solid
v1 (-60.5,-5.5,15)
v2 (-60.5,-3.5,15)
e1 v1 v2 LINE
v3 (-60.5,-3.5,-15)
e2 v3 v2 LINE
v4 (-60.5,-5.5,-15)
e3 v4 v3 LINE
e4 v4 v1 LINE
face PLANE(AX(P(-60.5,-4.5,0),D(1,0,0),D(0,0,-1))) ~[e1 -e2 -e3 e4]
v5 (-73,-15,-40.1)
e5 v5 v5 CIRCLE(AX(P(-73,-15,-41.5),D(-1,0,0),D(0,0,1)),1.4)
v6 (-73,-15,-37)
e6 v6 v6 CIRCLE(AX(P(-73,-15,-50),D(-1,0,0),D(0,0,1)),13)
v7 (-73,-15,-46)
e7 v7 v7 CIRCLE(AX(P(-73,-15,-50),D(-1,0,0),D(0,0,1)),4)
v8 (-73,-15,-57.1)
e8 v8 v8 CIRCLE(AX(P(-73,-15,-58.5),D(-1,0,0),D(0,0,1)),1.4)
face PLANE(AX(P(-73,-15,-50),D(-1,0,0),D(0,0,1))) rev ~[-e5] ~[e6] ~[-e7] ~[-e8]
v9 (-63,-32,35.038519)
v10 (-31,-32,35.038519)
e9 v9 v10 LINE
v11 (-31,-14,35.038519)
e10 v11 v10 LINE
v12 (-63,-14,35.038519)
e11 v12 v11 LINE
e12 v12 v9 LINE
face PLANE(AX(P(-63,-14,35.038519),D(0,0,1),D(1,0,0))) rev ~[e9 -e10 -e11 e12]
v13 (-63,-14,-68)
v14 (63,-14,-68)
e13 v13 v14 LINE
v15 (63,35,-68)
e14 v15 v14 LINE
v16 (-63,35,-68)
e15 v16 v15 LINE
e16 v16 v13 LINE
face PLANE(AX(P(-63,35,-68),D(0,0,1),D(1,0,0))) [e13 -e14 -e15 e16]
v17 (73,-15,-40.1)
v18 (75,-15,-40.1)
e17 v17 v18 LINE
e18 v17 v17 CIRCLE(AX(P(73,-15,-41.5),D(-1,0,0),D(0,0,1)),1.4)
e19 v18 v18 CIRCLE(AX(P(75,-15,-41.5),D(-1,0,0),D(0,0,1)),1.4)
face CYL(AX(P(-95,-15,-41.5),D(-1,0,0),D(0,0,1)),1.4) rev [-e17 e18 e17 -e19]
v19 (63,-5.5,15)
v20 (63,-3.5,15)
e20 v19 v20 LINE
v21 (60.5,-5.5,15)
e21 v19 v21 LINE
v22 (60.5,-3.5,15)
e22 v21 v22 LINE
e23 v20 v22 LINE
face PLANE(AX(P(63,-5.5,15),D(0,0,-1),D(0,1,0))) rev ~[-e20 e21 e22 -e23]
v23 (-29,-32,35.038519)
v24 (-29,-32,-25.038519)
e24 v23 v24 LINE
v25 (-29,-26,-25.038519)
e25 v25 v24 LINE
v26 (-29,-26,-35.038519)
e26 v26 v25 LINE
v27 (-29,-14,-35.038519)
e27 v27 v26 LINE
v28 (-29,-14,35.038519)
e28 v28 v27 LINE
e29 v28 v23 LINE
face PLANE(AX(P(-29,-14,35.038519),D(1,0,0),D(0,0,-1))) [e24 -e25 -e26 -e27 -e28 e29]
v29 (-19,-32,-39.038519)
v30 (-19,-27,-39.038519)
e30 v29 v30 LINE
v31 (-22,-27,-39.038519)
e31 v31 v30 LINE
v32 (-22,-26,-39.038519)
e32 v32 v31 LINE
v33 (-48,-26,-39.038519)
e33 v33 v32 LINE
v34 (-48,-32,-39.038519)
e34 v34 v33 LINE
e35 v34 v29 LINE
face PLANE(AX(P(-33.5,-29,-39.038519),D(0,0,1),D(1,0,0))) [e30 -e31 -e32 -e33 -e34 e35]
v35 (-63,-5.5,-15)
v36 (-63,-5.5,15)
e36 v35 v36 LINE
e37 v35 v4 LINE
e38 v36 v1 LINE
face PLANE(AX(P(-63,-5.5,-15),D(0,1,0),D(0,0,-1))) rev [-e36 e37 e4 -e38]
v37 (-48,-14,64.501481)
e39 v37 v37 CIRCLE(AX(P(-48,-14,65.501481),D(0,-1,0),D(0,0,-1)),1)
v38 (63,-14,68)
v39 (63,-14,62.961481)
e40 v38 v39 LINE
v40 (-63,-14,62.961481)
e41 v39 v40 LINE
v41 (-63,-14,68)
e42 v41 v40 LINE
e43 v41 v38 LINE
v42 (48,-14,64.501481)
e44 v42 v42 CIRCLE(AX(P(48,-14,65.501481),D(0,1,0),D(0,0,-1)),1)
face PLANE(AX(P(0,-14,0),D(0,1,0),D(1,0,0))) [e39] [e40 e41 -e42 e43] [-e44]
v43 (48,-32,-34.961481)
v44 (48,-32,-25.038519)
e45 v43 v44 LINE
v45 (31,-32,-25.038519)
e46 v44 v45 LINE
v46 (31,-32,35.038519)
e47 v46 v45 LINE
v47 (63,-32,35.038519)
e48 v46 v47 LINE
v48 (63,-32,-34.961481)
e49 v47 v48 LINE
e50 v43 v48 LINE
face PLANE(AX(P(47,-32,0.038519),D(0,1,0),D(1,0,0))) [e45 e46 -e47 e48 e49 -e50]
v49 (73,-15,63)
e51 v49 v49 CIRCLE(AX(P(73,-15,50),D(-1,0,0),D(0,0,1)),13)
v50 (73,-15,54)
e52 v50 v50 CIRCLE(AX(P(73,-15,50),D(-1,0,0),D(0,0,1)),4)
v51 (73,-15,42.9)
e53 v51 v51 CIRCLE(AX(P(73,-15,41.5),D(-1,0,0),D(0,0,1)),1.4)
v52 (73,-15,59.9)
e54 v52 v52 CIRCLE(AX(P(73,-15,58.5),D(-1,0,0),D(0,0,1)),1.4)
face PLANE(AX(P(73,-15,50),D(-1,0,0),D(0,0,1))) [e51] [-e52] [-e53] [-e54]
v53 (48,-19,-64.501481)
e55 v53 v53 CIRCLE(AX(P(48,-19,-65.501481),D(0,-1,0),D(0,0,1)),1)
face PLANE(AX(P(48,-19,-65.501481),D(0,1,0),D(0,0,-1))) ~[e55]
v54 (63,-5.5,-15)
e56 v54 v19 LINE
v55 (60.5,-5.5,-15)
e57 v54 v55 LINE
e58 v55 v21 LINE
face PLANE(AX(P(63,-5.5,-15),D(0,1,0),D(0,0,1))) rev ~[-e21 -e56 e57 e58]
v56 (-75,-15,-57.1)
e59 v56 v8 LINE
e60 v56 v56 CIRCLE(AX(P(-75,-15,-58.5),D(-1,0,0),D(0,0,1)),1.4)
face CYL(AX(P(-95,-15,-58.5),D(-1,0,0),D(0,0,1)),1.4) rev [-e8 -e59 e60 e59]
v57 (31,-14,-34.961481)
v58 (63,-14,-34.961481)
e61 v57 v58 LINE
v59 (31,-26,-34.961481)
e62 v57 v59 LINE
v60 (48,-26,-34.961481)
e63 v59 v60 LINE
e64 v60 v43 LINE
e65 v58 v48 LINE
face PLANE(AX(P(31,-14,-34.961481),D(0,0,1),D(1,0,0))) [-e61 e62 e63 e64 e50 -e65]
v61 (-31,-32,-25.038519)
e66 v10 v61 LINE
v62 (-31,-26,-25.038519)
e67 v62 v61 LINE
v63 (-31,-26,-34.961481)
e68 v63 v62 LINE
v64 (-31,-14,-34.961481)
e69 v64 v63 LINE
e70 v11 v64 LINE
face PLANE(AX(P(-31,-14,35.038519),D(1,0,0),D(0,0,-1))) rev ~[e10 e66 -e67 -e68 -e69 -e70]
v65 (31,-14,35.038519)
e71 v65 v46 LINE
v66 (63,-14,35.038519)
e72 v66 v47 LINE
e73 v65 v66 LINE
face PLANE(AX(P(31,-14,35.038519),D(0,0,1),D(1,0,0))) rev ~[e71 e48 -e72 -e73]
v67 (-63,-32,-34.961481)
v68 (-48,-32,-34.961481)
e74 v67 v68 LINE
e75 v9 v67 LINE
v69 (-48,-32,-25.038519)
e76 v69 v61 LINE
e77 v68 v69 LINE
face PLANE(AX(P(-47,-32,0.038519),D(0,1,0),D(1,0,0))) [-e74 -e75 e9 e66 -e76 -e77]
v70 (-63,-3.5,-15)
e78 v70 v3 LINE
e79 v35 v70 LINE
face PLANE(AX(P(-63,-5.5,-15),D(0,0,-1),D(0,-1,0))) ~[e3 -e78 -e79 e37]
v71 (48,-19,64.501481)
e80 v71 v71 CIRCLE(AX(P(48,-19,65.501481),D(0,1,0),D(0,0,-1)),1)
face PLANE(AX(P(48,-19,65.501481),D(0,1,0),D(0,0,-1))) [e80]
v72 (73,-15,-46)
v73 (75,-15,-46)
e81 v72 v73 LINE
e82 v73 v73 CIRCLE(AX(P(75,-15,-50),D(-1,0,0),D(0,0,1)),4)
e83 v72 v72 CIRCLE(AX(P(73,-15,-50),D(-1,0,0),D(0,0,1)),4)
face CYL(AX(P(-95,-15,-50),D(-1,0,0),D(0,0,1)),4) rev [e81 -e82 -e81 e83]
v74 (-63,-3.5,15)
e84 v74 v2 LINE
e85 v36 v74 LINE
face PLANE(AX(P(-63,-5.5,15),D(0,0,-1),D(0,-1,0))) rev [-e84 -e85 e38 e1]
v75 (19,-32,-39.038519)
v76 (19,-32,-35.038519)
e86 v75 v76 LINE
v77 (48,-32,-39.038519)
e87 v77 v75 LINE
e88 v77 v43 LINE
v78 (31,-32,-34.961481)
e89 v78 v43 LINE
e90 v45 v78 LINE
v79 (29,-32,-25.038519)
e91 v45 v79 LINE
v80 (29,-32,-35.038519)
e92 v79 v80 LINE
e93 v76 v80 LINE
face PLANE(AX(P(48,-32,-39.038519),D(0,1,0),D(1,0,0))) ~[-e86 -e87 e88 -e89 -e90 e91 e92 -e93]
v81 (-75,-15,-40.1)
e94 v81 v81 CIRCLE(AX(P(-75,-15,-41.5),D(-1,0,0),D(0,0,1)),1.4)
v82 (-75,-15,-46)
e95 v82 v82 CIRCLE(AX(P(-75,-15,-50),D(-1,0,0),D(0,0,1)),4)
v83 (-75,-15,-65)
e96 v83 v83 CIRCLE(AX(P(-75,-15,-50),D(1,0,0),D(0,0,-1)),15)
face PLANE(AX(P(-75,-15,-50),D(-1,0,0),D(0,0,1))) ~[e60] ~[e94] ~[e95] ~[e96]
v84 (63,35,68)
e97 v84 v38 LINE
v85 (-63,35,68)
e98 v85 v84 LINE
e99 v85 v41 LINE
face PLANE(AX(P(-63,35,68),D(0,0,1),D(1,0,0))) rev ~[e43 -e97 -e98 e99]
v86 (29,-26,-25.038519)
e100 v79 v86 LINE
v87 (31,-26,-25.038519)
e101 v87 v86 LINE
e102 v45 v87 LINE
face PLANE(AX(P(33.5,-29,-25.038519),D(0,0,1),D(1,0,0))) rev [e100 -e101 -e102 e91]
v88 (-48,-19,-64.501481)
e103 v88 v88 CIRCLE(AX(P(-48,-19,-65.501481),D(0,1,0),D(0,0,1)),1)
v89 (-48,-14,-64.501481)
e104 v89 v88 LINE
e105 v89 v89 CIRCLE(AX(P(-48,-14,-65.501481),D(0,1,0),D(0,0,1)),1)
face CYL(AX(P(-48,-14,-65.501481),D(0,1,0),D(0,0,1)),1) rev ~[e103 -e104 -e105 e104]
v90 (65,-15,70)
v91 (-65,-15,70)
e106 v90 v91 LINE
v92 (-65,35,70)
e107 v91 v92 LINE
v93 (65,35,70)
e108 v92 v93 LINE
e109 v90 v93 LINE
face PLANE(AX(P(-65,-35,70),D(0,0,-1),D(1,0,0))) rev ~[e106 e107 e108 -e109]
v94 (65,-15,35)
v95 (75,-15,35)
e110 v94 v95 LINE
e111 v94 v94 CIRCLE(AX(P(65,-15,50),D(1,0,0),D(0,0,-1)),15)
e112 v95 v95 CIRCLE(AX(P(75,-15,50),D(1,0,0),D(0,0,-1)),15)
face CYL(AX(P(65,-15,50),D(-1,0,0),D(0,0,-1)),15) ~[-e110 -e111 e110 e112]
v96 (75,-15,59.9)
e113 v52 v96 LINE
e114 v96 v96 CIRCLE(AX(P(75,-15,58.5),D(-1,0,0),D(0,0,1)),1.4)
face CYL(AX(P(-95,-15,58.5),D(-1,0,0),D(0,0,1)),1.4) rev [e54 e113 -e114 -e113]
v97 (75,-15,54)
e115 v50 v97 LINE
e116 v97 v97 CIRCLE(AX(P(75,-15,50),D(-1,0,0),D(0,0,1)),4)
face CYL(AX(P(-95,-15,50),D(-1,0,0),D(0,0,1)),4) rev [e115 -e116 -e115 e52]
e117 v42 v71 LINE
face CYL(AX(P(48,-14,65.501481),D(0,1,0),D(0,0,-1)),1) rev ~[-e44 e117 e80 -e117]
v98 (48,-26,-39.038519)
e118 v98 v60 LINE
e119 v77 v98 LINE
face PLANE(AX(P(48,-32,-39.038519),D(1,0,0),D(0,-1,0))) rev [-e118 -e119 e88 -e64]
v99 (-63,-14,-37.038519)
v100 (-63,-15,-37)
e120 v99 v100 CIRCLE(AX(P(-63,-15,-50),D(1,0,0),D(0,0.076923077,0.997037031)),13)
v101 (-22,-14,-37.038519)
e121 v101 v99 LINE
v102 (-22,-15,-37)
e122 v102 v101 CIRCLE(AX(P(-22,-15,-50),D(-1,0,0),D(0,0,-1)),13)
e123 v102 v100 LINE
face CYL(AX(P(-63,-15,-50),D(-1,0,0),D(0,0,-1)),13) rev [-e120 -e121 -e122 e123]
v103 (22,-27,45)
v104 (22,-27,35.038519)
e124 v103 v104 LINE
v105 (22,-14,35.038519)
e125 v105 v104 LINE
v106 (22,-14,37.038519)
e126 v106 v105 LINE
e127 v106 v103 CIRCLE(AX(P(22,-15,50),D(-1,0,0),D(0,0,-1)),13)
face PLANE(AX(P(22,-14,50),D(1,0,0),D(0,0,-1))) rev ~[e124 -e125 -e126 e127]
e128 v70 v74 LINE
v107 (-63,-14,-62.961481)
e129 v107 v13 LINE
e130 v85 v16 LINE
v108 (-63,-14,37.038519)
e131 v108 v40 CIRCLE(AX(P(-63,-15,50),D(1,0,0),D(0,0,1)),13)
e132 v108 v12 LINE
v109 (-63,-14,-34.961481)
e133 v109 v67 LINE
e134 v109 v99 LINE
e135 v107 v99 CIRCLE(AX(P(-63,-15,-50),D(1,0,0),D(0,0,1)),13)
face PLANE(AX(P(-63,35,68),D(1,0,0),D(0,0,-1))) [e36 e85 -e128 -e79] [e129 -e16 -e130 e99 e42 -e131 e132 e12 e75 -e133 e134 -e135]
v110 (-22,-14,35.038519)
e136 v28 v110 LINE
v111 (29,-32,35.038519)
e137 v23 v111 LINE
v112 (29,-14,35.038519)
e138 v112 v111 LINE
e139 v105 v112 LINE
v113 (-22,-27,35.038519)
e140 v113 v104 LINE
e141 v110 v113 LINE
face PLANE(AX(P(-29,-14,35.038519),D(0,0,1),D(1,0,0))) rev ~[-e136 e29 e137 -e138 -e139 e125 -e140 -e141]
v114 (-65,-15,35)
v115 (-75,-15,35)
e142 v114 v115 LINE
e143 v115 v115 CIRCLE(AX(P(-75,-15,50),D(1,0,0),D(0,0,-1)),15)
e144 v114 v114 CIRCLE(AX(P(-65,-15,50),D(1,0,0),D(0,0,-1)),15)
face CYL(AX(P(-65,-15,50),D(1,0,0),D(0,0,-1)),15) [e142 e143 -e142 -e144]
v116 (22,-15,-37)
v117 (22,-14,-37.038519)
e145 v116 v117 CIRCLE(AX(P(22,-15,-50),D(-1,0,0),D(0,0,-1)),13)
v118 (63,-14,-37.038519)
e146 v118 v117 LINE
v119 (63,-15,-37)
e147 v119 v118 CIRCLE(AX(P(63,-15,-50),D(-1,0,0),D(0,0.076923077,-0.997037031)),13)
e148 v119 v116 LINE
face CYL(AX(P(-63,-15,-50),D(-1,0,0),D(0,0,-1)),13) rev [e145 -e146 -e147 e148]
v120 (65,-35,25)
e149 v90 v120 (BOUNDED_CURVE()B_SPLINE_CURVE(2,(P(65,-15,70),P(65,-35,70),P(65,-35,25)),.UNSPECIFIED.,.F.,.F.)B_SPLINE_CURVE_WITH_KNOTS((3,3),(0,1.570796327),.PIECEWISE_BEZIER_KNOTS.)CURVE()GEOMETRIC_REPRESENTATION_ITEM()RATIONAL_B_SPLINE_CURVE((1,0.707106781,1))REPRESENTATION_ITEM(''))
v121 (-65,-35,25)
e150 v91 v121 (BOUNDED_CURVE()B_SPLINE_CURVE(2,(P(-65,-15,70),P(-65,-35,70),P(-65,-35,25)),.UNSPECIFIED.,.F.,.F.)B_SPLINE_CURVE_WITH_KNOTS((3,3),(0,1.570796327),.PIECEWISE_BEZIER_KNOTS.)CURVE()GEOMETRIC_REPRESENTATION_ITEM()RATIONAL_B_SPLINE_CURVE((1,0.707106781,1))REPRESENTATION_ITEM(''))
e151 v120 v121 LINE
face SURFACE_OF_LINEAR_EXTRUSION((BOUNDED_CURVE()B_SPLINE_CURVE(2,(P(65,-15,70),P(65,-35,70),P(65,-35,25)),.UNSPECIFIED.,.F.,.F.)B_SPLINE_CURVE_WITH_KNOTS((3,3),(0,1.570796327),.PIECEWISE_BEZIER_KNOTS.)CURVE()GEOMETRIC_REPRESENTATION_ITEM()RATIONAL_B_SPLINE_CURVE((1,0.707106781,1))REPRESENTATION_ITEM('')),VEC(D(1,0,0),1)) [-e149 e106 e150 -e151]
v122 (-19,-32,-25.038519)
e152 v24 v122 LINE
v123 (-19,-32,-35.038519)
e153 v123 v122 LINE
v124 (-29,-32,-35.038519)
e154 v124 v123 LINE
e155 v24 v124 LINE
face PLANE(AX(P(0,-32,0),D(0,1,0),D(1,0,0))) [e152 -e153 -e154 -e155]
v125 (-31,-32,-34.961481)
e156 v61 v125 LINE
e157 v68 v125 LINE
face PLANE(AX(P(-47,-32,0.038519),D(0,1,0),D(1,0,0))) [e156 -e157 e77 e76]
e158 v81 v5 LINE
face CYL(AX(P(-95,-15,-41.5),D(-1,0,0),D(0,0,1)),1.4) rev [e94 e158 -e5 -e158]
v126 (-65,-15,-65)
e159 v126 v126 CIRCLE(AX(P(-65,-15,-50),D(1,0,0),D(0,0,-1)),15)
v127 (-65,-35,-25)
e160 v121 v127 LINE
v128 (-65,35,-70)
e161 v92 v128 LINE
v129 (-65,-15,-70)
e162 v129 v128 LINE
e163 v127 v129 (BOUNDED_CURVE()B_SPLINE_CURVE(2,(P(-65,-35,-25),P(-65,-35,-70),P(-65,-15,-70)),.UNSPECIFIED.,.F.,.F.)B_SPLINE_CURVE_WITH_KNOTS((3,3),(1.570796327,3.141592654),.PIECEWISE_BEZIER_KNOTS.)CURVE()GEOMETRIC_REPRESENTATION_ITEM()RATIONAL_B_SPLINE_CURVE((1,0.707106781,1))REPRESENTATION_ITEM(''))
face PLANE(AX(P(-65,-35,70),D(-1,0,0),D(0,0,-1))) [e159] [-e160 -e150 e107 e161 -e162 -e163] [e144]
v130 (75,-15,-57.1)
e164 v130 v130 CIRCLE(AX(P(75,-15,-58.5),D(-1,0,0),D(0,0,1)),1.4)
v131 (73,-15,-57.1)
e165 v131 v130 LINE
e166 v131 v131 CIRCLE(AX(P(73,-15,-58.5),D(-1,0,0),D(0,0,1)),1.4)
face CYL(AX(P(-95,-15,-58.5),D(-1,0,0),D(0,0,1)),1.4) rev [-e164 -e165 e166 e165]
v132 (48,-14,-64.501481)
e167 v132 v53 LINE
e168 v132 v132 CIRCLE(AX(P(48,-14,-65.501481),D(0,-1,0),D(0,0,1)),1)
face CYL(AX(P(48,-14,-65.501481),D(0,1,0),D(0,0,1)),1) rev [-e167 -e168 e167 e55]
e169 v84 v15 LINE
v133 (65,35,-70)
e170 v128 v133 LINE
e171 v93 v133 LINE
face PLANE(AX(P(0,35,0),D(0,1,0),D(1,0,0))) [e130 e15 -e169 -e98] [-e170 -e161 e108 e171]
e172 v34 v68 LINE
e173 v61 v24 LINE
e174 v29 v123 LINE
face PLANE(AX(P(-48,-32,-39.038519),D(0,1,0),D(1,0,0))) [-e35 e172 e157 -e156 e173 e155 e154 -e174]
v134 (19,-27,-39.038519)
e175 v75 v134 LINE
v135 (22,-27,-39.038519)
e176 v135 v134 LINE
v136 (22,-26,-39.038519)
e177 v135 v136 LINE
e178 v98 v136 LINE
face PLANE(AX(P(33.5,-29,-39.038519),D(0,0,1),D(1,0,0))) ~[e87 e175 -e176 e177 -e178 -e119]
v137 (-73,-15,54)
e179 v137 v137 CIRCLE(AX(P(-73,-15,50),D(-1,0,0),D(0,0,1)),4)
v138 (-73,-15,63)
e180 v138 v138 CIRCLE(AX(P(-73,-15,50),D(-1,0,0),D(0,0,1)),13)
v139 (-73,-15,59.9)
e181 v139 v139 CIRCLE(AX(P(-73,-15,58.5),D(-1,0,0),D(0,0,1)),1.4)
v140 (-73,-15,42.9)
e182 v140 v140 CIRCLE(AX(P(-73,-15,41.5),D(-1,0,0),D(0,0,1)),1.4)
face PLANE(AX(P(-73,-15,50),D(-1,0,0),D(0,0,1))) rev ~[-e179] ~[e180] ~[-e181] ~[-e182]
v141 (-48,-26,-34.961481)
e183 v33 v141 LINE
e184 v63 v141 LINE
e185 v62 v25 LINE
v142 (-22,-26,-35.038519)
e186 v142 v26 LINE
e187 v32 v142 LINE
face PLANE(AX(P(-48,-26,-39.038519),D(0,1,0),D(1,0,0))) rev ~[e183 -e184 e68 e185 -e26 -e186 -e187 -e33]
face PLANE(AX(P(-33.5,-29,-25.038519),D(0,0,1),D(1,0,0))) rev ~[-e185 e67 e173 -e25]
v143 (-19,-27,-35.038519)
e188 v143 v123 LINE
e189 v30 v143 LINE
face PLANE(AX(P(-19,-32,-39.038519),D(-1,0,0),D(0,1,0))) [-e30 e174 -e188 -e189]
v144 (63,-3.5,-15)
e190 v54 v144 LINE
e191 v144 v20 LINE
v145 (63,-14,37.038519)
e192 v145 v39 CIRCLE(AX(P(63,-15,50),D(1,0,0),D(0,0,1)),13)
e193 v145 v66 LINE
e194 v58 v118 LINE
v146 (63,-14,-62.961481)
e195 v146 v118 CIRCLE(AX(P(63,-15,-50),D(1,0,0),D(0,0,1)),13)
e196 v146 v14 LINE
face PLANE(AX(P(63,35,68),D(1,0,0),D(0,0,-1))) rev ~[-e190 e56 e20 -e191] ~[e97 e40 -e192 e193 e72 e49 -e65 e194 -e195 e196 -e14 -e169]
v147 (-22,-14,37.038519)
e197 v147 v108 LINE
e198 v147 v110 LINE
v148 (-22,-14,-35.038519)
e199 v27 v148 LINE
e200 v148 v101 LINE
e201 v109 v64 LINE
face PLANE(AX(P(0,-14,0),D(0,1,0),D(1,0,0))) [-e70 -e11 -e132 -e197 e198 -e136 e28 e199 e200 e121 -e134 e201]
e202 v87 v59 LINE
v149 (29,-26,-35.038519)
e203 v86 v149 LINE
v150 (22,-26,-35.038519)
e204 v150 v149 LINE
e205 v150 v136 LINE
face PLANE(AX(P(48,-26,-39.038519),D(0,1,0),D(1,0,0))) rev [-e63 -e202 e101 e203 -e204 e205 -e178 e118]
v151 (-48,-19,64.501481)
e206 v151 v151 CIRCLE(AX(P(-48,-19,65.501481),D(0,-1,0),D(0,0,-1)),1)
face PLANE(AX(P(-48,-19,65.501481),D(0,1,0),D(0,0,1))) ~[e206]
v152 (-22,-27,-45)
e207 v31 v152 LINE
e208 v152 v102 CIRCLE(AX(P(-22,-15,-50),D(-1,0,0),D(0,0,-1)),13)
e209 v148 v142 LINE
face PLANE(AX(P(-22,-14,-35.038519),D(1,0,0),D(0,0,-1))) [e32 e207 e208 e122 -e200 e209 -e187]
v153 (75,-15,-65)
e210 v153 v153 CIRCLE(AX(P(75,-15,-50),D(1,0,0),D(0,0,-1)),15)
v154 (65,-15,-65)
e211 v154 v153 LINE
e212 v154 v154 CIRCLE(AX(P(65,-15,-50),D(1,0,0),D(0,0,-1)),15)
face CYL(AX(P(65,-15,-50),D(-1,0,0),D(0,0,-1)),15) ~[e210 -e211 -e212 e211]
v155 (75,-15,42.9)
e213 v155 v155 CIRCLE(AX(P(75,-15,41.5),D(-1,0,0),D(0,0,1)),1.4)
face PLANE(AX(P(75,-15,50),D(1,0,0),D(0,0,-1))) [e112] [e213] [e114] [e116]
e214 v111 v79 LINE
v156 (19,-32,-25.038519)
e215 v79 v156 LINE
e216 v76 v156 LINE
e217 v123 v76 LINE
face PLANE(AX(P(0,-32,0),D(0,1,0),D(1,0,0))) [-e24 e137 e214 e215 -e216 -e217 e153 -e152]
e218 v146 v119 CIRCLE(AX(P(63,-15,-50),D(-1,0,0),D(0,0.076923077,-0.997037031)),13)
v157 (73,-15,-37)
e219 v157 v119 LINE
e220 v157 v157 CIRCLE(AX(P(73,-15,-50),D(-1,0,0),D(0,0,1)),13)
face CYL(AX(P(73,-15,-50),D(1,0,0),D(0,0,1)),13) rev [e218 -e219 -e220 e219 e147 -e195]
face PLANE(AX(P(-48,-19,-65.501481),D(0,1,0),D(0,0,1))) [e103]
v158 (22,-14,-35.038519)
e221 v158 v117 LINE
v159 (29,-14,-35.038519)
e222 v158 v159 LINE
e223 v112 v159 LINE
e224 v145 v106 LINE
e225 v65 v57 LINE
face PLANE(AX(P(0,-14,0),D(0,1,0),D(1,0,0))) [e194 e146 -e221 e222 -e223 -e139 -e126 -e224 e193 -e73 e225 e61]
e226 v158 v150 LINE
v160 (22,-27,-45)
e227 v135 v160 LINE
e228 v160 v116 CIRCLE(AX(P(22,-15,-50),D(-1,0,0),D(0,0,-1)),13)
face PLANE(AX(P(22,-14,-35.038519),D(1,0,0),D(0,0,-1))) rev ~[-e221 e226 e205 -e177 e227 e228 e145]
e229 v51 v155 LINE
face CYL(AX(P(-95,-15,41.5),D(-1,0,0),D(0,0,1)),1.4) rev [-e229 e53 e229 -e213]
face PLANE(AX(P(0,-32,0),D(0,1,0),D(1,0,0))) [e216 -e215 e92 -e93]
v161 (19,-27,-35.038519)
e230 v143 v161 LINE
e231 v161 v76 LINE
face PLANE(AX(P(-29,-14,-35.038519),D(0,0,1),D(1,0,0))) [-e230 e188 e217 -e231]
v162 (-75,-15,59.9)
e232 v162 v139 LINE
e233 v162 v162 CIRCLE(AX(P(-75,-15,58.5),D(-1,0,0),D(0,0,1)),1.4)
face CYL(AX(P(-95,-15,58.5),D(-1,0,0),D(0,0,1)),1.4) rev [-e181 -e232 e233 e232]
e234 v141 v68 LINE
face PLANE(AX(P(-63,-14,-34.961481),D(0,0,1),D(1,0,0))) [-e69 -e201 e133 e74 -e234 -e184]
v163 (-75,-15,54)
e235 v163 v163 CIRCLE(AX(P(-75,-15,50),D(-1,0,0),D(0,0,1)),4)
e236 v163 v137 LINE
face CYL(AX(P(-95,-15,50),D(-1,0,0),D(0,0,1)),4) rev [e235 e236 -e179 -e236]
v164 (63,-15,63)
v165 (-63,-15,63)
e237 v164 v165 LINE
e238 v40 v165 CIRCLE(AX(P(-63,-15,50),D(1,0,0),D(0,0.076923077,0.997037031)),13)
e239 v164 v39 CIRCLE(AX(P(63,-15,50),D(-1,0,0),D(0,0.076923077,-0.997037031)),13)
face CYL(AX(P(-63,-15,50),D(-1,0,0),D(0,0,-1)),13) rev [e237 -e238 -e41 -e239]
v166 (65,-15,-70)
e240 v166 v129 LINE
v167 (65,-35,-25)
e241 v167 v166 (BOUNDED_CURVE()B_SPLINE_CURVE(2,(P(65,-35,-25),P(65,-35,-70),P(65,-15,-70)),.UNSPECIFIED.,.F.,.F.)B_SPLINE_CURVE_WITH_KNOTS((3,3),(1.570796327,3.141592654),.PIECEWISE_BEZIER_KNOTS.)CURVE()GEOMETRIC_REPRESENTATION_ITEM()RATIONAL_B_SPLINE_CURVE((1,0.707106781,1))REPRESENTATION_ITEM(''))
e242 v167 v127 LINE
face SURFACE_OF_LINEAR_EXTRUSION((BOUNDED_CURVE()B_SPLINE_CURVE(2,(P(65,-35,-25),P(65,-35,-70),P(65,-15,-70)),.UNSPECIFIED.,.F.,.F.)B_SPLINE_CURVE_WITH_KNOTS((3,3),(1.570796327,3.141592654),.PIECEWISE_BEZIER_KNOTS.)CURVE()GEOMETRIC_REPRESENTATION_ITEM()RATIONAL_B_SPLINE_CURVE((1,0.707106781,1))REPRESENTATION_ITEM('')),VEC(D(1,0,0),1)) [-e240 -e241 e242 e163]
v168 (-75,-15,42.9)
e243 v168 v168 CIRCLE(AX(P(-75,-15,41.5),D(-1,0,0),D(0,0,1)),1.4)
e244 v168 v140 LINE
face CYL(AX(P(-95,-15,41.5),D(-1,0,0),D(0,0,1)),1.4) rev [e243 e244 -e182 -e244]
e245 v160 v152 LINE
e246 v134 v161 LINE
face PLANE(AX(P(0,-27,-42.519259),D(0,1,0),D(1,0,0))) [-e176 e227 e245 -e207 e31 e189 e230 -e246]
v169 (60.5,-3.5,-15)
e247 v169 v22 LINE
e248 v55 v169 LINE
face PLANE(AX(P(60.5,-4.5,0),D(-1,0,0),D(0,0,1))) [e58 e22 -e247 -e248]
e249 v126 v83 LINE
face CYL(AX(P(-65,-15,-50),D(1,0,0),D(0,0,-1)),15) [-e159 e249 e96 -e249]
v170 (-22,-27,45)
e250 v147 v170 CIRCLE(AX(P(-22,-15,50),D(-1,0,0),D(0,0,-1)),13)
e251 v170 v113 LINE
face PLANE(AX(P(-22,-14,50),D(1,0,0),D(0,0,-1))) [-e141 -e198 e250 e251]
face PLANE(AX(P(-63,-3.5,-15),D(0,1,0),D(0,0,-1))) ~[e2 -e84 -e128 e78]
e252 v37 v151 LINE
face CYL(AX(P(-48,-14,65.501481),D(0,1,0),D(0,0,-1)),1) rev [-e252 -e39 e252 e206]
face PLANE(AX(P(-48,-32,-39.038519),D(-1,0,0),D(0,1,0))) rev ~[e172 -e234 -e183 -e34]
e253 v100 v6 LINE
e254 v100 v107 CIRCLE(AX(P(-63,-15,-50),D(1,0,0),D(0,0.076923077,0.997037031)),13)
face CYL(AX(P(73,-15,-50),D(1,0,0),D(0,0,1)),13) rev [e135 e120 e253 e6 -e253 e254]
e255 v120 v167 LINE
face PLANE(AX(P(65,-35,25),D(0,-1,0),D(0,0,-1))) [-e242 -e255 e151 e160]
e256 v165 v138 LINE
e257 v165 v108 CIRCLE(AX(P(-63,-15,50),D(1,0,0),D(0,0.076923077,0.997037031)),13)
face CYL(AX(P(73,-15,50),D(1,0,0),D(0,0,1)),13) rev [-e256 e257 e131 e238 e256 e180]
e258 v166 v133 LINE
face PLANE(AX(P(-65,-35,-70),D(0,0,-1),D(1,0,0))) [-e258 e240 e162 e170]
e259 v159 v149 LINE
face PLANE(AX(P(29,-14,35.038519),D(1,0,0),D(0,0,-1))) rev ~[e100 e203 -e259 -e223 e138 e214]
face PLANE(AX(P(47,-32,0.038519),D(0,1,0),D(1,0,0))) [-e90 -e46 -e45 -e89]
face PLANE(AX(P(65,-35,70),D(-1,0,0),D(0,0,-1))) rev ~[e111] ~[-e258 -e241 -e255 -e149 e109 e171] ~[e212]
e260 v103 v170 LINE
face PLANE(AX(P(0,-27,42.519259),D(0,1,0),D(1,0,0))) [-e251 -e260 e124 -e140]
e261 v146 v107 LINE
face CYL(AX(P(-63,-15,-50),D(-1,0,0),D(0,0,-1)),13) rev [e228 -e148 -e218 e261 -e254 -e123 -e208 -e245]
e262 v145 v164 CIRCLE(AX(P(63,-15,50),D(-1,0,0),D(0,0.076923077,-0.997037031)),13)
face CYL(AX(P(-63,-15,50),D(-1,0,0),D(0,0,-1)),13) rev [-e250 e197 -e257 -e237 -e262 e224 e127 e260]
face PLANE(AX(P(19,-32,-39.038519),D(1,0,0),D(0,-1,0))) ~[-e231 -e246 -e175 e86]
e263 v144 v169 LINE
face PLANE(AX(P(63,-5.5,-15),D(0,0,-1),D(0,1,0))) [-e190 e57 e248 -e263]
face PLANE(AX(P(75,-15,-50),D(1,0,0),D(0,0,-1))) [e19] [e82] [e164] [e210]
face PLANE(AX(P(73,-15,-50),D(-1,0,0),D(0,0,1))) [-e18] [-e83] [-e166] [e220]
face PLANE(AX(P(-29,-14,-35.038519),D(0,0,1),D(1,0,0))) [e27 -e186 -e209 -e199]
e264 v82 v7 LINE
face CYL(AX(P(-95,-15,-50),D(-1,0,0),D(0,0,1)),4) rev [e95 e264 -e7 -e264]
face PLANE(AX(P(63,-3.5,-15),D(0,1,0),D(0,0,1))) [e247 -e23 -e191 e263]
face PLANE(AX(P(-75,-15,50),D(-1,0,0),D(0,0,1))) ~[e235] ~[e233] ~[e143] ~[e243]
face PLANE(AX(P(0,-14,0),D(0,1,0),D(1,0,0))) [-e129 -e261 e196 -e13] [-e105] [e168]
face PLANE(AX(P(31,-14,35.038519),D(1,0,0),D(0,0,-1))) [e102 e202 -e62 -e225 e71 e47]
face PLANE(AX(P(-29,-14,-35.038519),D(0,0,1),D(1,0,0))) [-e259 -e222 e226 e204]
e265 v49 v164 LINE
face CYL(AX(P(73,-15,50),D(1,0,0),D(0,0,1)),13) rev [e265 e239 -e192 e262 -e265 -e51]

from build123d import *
from build123d.topology import SkipClean

# Parameters (mm, degrees)
EXTRUDE_1_DEPTH          = 35
EXTRUDE_1_DEPTH_BACK     = 35
SKETCH_1_W               = 130
SKETCH_1_H               = 140
CUT_EXTRUDE_1_DEPTH      = 130
SKETCH_3_W               = 126
SKETCH_3_H               = 136
CUT_EXTRUDE_2_DEPTH      = 49
CUT_EXTRUDE_3_DEPTH      = 63
CUT_EXTRUDE_3_DEPTH_BACK = 63
SKETCH_4_R               = 13
SKETCH_8_R               = 15
EXTRUDE_3_DEPTH          = 10
CUT_EXTRUDE_6_DEPTH      = 32
CUT_EXTRUDE_6_DEPTH_BACK = 160
SKETCH_7_R               = 1.4
SKETCH_7_R_2             = 4
CUT_EXTRUDE_7_DEPTH      = 136
CUT_EXTRUDE_7_DEPTH_BACK = 10
SKETCH_9_R               = 13
SKETCH_10_W              = 32
SKETCH_10_H              = 70
CUT_EXTRUDE_8_DEPTH      = 18
SKETCH_11_W              = 58
SKETCH_11_H              = 70.077037206
CUT_EXTRUDE_9_DEPTH      = 18
SKETCH_13_W              = 44
SKETCH_13_H              = 14.961481397
CUT_EXTRUDE_11_DEPTH     = 13
CUT_EXTRUDE_START        = -4
SKETCH_14_W              = 29
SKETCH_14_H              = 6
CUT_EXTRUDE_12_DEPTH     = 14
SKETCH_15_W              = 30
SKETCH_15_H              = 2
EXTRUDE_4_DEPTH          = 2.5
SKETCH_16_R              = 1
CUT_EXTRUDE_13_DEPTH     = 5
MIRROR_6_COPY_1_SKETCH_R = 1
MIRROR_6_COPY_1_DEPTH    = 5
MIRROR_6_COPY_2_SKETCH_R = 1
MIRROR_6_COPY_2_DEPTH    = 5


with BuildPart() as part:
    # Эскиз1 → Бобышка-Вытянуть1 (new, two sides: drawn at the far end of the back side and taken through both)
    with BuildSketch(Plane(origin=(0, 0, 0), x_dir=(1, 0, 0), z_dir=(0, 1, 0)).offset(-EXTRUDE_1_DEPTH_BACK)):
        Rectangle(SKETCH_1_W, SKETCH_1_H)
    extrude(amount=EXTRUDE_1_DEPTH + EXTRUDE_1_DEPTH_BACK)

    # Эскиз2 → Вырез-Вытянуть1 (cut)
    with BuildSketch(Plane(origin=(65, 0, 0), x_dir=(0, 0, -1), z_dir=(1, 0, 0))):
        with BuildLine():
            Line((-25, -35), (25, -35))
            add(Edge.make_bspline(
                [(25, -35), (70, -35), (70, -15)],
                knots=[1.570796327, 1.570796327, 1.570796327, 3.141592654, 3.141592654, 3.141592654], degree=2, weights=[1, 0.707106781, 1]))
            Line((70, -15), (70, -40.742443293))
            Line((70, -40.742443293), (-70, -40.742443293))
            Line((-70, -40.742443293), (-70, -15))
            add(Edge.make_bspline(
                [(-70, -15), (-70, -35), (-25, -35)],
                knots=[0, 0, 0, 1.570796327, 1.570796327, 1.570796327], degree=2, weights=[1, 0.707106781, 1]))
        make_face()
    extrude(amount=-CUT_EXTRUDE_1_DEPTH, mode=Mode.SUBTRACT)

    # Эскиз3 → Вырез-Вытянуть2 (cut)
    with BuildSketch(Plane(origin=(0, 35, 0), x_dir=(1, 0, 0), z_dir=(0, 1, 0))):
        Rectangle(SKETCH_3_W, SKETCH_3_H)
    extrude(amount=-CUT_EXTRUDE_2_DEPTH, mode=Mode.SUBTRACT)

    # Эскиз4 → Вырез-Вытянуть3 (cut, two sides: drawn at the far end of the back side and taken through both)
    with BuildSketch(Plane(origin=(0, 0, 0), x_dir=(0, 0, -1), z_dir=(1, 0, 0)).offset(-CUT_EXTRUDE_3_DEPTH_BACK)):
        with Locations((-50, -15)):
            Circle(SKETCH_4_R)
        with Locations((50, -15)):
            Circle(SKETCH_4_R)
    extrude(amount=CUT_EXTRUDE_3_DEPTH + CUT_EXTRUDE_3_DEPTH_BACK, mode=Mode.SUBTRACT)

    # Эскиз8 → Бобышка-Вытянуть3 (add)
    with BuildSketch(Plane(origin=(65, 0, 0), x_dir=(0, 0, -1), z_dir=(1, 0, 0))):
        with Locations((-50, -15)):
            Circle(SKETCH_8_R)
        with Locations((50, -15)):
            Circle(SKETCH_8_R)
    extrude_3 = extrude(amount=EXTRUDE_3_DEPTH)

    # Зеркальное отражение2: Бобышка-Вытянуть3 across plane
    add(extrude_3.mirror(Plane(origin=(0, 0, 0), x_dir=(0, 0, 1), z_dir=(1, 0, 0))))

    # Эскиз7 → Вырез-Вытянуть6 (cut, two sides: drawn at the far end of the back side and taken through both)
    with BuildSketch(Plane(origin=(65, 0, 0), x_dir=(0, 0, -1), z_dir=(1, 0, 0)).offset(-CUT_EXTRUDE_6_DEPTH_BACK)):
        with Locations((-58.5, -15)):
            Circle(SKETCH_7_R)
        with Locations((-50, -15)):
            Circle(SKETCH_7_R_2)
        with Locations((-41.5, -15)):
            Circle(SKETCH_7_R)
        with Locations((41.5, -15)):
            Circle(SKETCH_7_R)
        with Locations((50, -15)):
            Circle(SKETCH_7_R_2)
        with Locations((58.5, -15)):
            Circle(SKETCH_7_R)
    extrude(amount=CUT_EXTRUDE_6_DEPTH + CUT_EXTRUDE_6_DEPTH_BACK, mode=Mode.SUBTRACT)

    # Эскиз9 → Вырез-Вытянуть7 (cut, two sides: drawn at the far end of the back side and taken through both)
    with SkipClean():  # the faces are left unmerged after this step: merging them gives an invalid solid
        with BuildSketch(Plane.ZY.offset(-63).offset(-CUT_EXTRUDE_7_DEPTH_BACK)):
            with Locations((-50, -15)):
                Circle(SKETCH_9_R)
            with Locations((50, -15)):
                Circle(SKETCH_9_R)
        extrude(amount=CUT_EXTRUDE_7_DEPTH + CUT_EXTRUDE_7_DEPTH_BACK, mode=Mode.SUBTRACT)

    # Эскиз10 → Вырез-Вытянуть8 (cut)
    with SkipClean():  # the faces are left unmerged after this step: merging them gives an invalid solid
        with BuildSketch(Plane(origin=(0, -14, 0), x_dir=(1, 0, 0), z_dir=(0, 1, 0))):
            with Locations((-47, -0.038518603)):
                Rectangle(SKETCH_10_W, SKETCH_10_H)
            with Locations((47, -0.038518603)):
                Rectangle(SKETCH_10_W, SKETCH_10_H)
        extrude(amount=-CUT_EXTRUDE_8_DEPTH, mode=Mode.SUBTRACT)

    # Эскиз11 → Вырез-Вытянуть9 (cut)
    with SkipClean():  # the faces are left unmerged after this step: merging them gives an invalid solid
        with BuildSketch(Plane(origin=(0, -14, 0), x_dir=(1, 0, 0), z_dir=(0, 1, 0))):
            Rectangle(SKETCH_11_W, SKETCH_11_H)
        extrude(amount=-CUT_EXTRUDE_9_DEPTH, mode=Mode.SUBTRACT)

    # Эскиз13 → Вырез-Вытянуть11 (cut)
    with SkipClean():  # the faces are left unmerged after this step: merging them gives an invalid solid
        with BuildSketch(Plane(origin=(0, -14, 0), x_dir=(1, 0, 0), z_dir=(0, 1, 0))):
            with Locations((0, 42.519259301)):
                Rectangle(SKETCH_13_W, SKETCH_13_H)
            with Locations((0, -42.519259301)):
                Rectangle(SKETCH_13_W, SKETCH_13_H)
        extrude(amount=-CUT_EXTRUDE_11_DEPTH, mode=Mode.SUBTRACT)

    # Эскиз14 → Вырез-Вытянуть12 (cut)
    with SkipClean():  # the faces are left unmerged after this step: merging them gives an invalid solid
        with BuildSketch(Plane.XY.offset(-35.038518603).offset(CUT_EXTRUDE_START)):
            with Locations((-33.5, -29)):
                Rectangle(SKETCH_14_W, SKETCH_14_H)
        cut_extrude_12 = extrude(amount=CUT_EXTRUDE_12_DEPTH, mode=Mode.SUBTRACT)

    # Эскиз15 → Бобышка-Вытянуть4 (add)
    with BuildSketch(Plane.ZY.offset(-63)):
        with Locations((0, -4.5)):
            Rectangle(SKETCH_15_W, SKETCH_15_H)
    extrude_4 = extrude(amount=EXTRUDE_4_DEPTH)

    # Зеркальное отражение3: Бобышка-Вытянуть4 across plane
    add(extrude_4.mirror(Plane(origin=(0, 0, 0), x_dir=(0, 0, 1), z_dir=(1, 0, 0))))

    # Зеркальное отражение4: Вырез-Вытянуть12 across plane
    add(cut_extrude_12.mirror(Plane(origin=(0, 0, 0), x_dir=(0, 0, 1), z_dir=(1, 0, 0))), mode=Mode.SUBTRACT)

    # Эскиз16 → Вырез-Вытянуть13 (cut)
    with BuildSketch(Plane(origin=(0, -14, 0), x_dir=(1, 0, 0), z_dir=(0, 1, 0))):
        with Locations((-48, 65.501481397)):
            Circle(SKETCH_16_R)
    cut_extrude_13 = extrude(amount=-CUT_EXTRUDE_13_DEPTH, mode=Mode.SUBTRACT)

    # Зеркальное отражение5: Вырез-Вытянуть13 across plane
    add(cut_extrude_13.mirror(Plane.XY), mode=Mode.SUBTRACT)

    # Зеркальное отражение6 copy 1 sketch → Зеркальное отражение6 copy 1 (cut)
    with BuildSketch(Plane(origin=(0, -14, 0), x_dir=(-1, 0, 0), z_dir=(0, 1, 0))):
        with Locations((-48, 65.501481397)):
            Circle(MIRROR_6_COPY_1_SKETCH_R)
    extrude(amount=-MIRROR_6_COPY_1_DEPTH, mode=Mode.SUBTRACT)

    # Зеркальное отражение6 copy 2 sketch → Зеркальное отражение6 copy 2 (cut)
    with BuildSketch(Plane(origin=(0, -14, 0), x_dir=(-1, 0, 0), z_dir=(0, 1, 0))):
        with Locations((-48, -65.501481397)):
            Circle(MIRROR_6_COPY_2_SKETCH_R)
    extrude(amount=-MIRROR_6_COPY_2_DEPTH, mode=Mode.SUBTRACT)


solid = part.part
